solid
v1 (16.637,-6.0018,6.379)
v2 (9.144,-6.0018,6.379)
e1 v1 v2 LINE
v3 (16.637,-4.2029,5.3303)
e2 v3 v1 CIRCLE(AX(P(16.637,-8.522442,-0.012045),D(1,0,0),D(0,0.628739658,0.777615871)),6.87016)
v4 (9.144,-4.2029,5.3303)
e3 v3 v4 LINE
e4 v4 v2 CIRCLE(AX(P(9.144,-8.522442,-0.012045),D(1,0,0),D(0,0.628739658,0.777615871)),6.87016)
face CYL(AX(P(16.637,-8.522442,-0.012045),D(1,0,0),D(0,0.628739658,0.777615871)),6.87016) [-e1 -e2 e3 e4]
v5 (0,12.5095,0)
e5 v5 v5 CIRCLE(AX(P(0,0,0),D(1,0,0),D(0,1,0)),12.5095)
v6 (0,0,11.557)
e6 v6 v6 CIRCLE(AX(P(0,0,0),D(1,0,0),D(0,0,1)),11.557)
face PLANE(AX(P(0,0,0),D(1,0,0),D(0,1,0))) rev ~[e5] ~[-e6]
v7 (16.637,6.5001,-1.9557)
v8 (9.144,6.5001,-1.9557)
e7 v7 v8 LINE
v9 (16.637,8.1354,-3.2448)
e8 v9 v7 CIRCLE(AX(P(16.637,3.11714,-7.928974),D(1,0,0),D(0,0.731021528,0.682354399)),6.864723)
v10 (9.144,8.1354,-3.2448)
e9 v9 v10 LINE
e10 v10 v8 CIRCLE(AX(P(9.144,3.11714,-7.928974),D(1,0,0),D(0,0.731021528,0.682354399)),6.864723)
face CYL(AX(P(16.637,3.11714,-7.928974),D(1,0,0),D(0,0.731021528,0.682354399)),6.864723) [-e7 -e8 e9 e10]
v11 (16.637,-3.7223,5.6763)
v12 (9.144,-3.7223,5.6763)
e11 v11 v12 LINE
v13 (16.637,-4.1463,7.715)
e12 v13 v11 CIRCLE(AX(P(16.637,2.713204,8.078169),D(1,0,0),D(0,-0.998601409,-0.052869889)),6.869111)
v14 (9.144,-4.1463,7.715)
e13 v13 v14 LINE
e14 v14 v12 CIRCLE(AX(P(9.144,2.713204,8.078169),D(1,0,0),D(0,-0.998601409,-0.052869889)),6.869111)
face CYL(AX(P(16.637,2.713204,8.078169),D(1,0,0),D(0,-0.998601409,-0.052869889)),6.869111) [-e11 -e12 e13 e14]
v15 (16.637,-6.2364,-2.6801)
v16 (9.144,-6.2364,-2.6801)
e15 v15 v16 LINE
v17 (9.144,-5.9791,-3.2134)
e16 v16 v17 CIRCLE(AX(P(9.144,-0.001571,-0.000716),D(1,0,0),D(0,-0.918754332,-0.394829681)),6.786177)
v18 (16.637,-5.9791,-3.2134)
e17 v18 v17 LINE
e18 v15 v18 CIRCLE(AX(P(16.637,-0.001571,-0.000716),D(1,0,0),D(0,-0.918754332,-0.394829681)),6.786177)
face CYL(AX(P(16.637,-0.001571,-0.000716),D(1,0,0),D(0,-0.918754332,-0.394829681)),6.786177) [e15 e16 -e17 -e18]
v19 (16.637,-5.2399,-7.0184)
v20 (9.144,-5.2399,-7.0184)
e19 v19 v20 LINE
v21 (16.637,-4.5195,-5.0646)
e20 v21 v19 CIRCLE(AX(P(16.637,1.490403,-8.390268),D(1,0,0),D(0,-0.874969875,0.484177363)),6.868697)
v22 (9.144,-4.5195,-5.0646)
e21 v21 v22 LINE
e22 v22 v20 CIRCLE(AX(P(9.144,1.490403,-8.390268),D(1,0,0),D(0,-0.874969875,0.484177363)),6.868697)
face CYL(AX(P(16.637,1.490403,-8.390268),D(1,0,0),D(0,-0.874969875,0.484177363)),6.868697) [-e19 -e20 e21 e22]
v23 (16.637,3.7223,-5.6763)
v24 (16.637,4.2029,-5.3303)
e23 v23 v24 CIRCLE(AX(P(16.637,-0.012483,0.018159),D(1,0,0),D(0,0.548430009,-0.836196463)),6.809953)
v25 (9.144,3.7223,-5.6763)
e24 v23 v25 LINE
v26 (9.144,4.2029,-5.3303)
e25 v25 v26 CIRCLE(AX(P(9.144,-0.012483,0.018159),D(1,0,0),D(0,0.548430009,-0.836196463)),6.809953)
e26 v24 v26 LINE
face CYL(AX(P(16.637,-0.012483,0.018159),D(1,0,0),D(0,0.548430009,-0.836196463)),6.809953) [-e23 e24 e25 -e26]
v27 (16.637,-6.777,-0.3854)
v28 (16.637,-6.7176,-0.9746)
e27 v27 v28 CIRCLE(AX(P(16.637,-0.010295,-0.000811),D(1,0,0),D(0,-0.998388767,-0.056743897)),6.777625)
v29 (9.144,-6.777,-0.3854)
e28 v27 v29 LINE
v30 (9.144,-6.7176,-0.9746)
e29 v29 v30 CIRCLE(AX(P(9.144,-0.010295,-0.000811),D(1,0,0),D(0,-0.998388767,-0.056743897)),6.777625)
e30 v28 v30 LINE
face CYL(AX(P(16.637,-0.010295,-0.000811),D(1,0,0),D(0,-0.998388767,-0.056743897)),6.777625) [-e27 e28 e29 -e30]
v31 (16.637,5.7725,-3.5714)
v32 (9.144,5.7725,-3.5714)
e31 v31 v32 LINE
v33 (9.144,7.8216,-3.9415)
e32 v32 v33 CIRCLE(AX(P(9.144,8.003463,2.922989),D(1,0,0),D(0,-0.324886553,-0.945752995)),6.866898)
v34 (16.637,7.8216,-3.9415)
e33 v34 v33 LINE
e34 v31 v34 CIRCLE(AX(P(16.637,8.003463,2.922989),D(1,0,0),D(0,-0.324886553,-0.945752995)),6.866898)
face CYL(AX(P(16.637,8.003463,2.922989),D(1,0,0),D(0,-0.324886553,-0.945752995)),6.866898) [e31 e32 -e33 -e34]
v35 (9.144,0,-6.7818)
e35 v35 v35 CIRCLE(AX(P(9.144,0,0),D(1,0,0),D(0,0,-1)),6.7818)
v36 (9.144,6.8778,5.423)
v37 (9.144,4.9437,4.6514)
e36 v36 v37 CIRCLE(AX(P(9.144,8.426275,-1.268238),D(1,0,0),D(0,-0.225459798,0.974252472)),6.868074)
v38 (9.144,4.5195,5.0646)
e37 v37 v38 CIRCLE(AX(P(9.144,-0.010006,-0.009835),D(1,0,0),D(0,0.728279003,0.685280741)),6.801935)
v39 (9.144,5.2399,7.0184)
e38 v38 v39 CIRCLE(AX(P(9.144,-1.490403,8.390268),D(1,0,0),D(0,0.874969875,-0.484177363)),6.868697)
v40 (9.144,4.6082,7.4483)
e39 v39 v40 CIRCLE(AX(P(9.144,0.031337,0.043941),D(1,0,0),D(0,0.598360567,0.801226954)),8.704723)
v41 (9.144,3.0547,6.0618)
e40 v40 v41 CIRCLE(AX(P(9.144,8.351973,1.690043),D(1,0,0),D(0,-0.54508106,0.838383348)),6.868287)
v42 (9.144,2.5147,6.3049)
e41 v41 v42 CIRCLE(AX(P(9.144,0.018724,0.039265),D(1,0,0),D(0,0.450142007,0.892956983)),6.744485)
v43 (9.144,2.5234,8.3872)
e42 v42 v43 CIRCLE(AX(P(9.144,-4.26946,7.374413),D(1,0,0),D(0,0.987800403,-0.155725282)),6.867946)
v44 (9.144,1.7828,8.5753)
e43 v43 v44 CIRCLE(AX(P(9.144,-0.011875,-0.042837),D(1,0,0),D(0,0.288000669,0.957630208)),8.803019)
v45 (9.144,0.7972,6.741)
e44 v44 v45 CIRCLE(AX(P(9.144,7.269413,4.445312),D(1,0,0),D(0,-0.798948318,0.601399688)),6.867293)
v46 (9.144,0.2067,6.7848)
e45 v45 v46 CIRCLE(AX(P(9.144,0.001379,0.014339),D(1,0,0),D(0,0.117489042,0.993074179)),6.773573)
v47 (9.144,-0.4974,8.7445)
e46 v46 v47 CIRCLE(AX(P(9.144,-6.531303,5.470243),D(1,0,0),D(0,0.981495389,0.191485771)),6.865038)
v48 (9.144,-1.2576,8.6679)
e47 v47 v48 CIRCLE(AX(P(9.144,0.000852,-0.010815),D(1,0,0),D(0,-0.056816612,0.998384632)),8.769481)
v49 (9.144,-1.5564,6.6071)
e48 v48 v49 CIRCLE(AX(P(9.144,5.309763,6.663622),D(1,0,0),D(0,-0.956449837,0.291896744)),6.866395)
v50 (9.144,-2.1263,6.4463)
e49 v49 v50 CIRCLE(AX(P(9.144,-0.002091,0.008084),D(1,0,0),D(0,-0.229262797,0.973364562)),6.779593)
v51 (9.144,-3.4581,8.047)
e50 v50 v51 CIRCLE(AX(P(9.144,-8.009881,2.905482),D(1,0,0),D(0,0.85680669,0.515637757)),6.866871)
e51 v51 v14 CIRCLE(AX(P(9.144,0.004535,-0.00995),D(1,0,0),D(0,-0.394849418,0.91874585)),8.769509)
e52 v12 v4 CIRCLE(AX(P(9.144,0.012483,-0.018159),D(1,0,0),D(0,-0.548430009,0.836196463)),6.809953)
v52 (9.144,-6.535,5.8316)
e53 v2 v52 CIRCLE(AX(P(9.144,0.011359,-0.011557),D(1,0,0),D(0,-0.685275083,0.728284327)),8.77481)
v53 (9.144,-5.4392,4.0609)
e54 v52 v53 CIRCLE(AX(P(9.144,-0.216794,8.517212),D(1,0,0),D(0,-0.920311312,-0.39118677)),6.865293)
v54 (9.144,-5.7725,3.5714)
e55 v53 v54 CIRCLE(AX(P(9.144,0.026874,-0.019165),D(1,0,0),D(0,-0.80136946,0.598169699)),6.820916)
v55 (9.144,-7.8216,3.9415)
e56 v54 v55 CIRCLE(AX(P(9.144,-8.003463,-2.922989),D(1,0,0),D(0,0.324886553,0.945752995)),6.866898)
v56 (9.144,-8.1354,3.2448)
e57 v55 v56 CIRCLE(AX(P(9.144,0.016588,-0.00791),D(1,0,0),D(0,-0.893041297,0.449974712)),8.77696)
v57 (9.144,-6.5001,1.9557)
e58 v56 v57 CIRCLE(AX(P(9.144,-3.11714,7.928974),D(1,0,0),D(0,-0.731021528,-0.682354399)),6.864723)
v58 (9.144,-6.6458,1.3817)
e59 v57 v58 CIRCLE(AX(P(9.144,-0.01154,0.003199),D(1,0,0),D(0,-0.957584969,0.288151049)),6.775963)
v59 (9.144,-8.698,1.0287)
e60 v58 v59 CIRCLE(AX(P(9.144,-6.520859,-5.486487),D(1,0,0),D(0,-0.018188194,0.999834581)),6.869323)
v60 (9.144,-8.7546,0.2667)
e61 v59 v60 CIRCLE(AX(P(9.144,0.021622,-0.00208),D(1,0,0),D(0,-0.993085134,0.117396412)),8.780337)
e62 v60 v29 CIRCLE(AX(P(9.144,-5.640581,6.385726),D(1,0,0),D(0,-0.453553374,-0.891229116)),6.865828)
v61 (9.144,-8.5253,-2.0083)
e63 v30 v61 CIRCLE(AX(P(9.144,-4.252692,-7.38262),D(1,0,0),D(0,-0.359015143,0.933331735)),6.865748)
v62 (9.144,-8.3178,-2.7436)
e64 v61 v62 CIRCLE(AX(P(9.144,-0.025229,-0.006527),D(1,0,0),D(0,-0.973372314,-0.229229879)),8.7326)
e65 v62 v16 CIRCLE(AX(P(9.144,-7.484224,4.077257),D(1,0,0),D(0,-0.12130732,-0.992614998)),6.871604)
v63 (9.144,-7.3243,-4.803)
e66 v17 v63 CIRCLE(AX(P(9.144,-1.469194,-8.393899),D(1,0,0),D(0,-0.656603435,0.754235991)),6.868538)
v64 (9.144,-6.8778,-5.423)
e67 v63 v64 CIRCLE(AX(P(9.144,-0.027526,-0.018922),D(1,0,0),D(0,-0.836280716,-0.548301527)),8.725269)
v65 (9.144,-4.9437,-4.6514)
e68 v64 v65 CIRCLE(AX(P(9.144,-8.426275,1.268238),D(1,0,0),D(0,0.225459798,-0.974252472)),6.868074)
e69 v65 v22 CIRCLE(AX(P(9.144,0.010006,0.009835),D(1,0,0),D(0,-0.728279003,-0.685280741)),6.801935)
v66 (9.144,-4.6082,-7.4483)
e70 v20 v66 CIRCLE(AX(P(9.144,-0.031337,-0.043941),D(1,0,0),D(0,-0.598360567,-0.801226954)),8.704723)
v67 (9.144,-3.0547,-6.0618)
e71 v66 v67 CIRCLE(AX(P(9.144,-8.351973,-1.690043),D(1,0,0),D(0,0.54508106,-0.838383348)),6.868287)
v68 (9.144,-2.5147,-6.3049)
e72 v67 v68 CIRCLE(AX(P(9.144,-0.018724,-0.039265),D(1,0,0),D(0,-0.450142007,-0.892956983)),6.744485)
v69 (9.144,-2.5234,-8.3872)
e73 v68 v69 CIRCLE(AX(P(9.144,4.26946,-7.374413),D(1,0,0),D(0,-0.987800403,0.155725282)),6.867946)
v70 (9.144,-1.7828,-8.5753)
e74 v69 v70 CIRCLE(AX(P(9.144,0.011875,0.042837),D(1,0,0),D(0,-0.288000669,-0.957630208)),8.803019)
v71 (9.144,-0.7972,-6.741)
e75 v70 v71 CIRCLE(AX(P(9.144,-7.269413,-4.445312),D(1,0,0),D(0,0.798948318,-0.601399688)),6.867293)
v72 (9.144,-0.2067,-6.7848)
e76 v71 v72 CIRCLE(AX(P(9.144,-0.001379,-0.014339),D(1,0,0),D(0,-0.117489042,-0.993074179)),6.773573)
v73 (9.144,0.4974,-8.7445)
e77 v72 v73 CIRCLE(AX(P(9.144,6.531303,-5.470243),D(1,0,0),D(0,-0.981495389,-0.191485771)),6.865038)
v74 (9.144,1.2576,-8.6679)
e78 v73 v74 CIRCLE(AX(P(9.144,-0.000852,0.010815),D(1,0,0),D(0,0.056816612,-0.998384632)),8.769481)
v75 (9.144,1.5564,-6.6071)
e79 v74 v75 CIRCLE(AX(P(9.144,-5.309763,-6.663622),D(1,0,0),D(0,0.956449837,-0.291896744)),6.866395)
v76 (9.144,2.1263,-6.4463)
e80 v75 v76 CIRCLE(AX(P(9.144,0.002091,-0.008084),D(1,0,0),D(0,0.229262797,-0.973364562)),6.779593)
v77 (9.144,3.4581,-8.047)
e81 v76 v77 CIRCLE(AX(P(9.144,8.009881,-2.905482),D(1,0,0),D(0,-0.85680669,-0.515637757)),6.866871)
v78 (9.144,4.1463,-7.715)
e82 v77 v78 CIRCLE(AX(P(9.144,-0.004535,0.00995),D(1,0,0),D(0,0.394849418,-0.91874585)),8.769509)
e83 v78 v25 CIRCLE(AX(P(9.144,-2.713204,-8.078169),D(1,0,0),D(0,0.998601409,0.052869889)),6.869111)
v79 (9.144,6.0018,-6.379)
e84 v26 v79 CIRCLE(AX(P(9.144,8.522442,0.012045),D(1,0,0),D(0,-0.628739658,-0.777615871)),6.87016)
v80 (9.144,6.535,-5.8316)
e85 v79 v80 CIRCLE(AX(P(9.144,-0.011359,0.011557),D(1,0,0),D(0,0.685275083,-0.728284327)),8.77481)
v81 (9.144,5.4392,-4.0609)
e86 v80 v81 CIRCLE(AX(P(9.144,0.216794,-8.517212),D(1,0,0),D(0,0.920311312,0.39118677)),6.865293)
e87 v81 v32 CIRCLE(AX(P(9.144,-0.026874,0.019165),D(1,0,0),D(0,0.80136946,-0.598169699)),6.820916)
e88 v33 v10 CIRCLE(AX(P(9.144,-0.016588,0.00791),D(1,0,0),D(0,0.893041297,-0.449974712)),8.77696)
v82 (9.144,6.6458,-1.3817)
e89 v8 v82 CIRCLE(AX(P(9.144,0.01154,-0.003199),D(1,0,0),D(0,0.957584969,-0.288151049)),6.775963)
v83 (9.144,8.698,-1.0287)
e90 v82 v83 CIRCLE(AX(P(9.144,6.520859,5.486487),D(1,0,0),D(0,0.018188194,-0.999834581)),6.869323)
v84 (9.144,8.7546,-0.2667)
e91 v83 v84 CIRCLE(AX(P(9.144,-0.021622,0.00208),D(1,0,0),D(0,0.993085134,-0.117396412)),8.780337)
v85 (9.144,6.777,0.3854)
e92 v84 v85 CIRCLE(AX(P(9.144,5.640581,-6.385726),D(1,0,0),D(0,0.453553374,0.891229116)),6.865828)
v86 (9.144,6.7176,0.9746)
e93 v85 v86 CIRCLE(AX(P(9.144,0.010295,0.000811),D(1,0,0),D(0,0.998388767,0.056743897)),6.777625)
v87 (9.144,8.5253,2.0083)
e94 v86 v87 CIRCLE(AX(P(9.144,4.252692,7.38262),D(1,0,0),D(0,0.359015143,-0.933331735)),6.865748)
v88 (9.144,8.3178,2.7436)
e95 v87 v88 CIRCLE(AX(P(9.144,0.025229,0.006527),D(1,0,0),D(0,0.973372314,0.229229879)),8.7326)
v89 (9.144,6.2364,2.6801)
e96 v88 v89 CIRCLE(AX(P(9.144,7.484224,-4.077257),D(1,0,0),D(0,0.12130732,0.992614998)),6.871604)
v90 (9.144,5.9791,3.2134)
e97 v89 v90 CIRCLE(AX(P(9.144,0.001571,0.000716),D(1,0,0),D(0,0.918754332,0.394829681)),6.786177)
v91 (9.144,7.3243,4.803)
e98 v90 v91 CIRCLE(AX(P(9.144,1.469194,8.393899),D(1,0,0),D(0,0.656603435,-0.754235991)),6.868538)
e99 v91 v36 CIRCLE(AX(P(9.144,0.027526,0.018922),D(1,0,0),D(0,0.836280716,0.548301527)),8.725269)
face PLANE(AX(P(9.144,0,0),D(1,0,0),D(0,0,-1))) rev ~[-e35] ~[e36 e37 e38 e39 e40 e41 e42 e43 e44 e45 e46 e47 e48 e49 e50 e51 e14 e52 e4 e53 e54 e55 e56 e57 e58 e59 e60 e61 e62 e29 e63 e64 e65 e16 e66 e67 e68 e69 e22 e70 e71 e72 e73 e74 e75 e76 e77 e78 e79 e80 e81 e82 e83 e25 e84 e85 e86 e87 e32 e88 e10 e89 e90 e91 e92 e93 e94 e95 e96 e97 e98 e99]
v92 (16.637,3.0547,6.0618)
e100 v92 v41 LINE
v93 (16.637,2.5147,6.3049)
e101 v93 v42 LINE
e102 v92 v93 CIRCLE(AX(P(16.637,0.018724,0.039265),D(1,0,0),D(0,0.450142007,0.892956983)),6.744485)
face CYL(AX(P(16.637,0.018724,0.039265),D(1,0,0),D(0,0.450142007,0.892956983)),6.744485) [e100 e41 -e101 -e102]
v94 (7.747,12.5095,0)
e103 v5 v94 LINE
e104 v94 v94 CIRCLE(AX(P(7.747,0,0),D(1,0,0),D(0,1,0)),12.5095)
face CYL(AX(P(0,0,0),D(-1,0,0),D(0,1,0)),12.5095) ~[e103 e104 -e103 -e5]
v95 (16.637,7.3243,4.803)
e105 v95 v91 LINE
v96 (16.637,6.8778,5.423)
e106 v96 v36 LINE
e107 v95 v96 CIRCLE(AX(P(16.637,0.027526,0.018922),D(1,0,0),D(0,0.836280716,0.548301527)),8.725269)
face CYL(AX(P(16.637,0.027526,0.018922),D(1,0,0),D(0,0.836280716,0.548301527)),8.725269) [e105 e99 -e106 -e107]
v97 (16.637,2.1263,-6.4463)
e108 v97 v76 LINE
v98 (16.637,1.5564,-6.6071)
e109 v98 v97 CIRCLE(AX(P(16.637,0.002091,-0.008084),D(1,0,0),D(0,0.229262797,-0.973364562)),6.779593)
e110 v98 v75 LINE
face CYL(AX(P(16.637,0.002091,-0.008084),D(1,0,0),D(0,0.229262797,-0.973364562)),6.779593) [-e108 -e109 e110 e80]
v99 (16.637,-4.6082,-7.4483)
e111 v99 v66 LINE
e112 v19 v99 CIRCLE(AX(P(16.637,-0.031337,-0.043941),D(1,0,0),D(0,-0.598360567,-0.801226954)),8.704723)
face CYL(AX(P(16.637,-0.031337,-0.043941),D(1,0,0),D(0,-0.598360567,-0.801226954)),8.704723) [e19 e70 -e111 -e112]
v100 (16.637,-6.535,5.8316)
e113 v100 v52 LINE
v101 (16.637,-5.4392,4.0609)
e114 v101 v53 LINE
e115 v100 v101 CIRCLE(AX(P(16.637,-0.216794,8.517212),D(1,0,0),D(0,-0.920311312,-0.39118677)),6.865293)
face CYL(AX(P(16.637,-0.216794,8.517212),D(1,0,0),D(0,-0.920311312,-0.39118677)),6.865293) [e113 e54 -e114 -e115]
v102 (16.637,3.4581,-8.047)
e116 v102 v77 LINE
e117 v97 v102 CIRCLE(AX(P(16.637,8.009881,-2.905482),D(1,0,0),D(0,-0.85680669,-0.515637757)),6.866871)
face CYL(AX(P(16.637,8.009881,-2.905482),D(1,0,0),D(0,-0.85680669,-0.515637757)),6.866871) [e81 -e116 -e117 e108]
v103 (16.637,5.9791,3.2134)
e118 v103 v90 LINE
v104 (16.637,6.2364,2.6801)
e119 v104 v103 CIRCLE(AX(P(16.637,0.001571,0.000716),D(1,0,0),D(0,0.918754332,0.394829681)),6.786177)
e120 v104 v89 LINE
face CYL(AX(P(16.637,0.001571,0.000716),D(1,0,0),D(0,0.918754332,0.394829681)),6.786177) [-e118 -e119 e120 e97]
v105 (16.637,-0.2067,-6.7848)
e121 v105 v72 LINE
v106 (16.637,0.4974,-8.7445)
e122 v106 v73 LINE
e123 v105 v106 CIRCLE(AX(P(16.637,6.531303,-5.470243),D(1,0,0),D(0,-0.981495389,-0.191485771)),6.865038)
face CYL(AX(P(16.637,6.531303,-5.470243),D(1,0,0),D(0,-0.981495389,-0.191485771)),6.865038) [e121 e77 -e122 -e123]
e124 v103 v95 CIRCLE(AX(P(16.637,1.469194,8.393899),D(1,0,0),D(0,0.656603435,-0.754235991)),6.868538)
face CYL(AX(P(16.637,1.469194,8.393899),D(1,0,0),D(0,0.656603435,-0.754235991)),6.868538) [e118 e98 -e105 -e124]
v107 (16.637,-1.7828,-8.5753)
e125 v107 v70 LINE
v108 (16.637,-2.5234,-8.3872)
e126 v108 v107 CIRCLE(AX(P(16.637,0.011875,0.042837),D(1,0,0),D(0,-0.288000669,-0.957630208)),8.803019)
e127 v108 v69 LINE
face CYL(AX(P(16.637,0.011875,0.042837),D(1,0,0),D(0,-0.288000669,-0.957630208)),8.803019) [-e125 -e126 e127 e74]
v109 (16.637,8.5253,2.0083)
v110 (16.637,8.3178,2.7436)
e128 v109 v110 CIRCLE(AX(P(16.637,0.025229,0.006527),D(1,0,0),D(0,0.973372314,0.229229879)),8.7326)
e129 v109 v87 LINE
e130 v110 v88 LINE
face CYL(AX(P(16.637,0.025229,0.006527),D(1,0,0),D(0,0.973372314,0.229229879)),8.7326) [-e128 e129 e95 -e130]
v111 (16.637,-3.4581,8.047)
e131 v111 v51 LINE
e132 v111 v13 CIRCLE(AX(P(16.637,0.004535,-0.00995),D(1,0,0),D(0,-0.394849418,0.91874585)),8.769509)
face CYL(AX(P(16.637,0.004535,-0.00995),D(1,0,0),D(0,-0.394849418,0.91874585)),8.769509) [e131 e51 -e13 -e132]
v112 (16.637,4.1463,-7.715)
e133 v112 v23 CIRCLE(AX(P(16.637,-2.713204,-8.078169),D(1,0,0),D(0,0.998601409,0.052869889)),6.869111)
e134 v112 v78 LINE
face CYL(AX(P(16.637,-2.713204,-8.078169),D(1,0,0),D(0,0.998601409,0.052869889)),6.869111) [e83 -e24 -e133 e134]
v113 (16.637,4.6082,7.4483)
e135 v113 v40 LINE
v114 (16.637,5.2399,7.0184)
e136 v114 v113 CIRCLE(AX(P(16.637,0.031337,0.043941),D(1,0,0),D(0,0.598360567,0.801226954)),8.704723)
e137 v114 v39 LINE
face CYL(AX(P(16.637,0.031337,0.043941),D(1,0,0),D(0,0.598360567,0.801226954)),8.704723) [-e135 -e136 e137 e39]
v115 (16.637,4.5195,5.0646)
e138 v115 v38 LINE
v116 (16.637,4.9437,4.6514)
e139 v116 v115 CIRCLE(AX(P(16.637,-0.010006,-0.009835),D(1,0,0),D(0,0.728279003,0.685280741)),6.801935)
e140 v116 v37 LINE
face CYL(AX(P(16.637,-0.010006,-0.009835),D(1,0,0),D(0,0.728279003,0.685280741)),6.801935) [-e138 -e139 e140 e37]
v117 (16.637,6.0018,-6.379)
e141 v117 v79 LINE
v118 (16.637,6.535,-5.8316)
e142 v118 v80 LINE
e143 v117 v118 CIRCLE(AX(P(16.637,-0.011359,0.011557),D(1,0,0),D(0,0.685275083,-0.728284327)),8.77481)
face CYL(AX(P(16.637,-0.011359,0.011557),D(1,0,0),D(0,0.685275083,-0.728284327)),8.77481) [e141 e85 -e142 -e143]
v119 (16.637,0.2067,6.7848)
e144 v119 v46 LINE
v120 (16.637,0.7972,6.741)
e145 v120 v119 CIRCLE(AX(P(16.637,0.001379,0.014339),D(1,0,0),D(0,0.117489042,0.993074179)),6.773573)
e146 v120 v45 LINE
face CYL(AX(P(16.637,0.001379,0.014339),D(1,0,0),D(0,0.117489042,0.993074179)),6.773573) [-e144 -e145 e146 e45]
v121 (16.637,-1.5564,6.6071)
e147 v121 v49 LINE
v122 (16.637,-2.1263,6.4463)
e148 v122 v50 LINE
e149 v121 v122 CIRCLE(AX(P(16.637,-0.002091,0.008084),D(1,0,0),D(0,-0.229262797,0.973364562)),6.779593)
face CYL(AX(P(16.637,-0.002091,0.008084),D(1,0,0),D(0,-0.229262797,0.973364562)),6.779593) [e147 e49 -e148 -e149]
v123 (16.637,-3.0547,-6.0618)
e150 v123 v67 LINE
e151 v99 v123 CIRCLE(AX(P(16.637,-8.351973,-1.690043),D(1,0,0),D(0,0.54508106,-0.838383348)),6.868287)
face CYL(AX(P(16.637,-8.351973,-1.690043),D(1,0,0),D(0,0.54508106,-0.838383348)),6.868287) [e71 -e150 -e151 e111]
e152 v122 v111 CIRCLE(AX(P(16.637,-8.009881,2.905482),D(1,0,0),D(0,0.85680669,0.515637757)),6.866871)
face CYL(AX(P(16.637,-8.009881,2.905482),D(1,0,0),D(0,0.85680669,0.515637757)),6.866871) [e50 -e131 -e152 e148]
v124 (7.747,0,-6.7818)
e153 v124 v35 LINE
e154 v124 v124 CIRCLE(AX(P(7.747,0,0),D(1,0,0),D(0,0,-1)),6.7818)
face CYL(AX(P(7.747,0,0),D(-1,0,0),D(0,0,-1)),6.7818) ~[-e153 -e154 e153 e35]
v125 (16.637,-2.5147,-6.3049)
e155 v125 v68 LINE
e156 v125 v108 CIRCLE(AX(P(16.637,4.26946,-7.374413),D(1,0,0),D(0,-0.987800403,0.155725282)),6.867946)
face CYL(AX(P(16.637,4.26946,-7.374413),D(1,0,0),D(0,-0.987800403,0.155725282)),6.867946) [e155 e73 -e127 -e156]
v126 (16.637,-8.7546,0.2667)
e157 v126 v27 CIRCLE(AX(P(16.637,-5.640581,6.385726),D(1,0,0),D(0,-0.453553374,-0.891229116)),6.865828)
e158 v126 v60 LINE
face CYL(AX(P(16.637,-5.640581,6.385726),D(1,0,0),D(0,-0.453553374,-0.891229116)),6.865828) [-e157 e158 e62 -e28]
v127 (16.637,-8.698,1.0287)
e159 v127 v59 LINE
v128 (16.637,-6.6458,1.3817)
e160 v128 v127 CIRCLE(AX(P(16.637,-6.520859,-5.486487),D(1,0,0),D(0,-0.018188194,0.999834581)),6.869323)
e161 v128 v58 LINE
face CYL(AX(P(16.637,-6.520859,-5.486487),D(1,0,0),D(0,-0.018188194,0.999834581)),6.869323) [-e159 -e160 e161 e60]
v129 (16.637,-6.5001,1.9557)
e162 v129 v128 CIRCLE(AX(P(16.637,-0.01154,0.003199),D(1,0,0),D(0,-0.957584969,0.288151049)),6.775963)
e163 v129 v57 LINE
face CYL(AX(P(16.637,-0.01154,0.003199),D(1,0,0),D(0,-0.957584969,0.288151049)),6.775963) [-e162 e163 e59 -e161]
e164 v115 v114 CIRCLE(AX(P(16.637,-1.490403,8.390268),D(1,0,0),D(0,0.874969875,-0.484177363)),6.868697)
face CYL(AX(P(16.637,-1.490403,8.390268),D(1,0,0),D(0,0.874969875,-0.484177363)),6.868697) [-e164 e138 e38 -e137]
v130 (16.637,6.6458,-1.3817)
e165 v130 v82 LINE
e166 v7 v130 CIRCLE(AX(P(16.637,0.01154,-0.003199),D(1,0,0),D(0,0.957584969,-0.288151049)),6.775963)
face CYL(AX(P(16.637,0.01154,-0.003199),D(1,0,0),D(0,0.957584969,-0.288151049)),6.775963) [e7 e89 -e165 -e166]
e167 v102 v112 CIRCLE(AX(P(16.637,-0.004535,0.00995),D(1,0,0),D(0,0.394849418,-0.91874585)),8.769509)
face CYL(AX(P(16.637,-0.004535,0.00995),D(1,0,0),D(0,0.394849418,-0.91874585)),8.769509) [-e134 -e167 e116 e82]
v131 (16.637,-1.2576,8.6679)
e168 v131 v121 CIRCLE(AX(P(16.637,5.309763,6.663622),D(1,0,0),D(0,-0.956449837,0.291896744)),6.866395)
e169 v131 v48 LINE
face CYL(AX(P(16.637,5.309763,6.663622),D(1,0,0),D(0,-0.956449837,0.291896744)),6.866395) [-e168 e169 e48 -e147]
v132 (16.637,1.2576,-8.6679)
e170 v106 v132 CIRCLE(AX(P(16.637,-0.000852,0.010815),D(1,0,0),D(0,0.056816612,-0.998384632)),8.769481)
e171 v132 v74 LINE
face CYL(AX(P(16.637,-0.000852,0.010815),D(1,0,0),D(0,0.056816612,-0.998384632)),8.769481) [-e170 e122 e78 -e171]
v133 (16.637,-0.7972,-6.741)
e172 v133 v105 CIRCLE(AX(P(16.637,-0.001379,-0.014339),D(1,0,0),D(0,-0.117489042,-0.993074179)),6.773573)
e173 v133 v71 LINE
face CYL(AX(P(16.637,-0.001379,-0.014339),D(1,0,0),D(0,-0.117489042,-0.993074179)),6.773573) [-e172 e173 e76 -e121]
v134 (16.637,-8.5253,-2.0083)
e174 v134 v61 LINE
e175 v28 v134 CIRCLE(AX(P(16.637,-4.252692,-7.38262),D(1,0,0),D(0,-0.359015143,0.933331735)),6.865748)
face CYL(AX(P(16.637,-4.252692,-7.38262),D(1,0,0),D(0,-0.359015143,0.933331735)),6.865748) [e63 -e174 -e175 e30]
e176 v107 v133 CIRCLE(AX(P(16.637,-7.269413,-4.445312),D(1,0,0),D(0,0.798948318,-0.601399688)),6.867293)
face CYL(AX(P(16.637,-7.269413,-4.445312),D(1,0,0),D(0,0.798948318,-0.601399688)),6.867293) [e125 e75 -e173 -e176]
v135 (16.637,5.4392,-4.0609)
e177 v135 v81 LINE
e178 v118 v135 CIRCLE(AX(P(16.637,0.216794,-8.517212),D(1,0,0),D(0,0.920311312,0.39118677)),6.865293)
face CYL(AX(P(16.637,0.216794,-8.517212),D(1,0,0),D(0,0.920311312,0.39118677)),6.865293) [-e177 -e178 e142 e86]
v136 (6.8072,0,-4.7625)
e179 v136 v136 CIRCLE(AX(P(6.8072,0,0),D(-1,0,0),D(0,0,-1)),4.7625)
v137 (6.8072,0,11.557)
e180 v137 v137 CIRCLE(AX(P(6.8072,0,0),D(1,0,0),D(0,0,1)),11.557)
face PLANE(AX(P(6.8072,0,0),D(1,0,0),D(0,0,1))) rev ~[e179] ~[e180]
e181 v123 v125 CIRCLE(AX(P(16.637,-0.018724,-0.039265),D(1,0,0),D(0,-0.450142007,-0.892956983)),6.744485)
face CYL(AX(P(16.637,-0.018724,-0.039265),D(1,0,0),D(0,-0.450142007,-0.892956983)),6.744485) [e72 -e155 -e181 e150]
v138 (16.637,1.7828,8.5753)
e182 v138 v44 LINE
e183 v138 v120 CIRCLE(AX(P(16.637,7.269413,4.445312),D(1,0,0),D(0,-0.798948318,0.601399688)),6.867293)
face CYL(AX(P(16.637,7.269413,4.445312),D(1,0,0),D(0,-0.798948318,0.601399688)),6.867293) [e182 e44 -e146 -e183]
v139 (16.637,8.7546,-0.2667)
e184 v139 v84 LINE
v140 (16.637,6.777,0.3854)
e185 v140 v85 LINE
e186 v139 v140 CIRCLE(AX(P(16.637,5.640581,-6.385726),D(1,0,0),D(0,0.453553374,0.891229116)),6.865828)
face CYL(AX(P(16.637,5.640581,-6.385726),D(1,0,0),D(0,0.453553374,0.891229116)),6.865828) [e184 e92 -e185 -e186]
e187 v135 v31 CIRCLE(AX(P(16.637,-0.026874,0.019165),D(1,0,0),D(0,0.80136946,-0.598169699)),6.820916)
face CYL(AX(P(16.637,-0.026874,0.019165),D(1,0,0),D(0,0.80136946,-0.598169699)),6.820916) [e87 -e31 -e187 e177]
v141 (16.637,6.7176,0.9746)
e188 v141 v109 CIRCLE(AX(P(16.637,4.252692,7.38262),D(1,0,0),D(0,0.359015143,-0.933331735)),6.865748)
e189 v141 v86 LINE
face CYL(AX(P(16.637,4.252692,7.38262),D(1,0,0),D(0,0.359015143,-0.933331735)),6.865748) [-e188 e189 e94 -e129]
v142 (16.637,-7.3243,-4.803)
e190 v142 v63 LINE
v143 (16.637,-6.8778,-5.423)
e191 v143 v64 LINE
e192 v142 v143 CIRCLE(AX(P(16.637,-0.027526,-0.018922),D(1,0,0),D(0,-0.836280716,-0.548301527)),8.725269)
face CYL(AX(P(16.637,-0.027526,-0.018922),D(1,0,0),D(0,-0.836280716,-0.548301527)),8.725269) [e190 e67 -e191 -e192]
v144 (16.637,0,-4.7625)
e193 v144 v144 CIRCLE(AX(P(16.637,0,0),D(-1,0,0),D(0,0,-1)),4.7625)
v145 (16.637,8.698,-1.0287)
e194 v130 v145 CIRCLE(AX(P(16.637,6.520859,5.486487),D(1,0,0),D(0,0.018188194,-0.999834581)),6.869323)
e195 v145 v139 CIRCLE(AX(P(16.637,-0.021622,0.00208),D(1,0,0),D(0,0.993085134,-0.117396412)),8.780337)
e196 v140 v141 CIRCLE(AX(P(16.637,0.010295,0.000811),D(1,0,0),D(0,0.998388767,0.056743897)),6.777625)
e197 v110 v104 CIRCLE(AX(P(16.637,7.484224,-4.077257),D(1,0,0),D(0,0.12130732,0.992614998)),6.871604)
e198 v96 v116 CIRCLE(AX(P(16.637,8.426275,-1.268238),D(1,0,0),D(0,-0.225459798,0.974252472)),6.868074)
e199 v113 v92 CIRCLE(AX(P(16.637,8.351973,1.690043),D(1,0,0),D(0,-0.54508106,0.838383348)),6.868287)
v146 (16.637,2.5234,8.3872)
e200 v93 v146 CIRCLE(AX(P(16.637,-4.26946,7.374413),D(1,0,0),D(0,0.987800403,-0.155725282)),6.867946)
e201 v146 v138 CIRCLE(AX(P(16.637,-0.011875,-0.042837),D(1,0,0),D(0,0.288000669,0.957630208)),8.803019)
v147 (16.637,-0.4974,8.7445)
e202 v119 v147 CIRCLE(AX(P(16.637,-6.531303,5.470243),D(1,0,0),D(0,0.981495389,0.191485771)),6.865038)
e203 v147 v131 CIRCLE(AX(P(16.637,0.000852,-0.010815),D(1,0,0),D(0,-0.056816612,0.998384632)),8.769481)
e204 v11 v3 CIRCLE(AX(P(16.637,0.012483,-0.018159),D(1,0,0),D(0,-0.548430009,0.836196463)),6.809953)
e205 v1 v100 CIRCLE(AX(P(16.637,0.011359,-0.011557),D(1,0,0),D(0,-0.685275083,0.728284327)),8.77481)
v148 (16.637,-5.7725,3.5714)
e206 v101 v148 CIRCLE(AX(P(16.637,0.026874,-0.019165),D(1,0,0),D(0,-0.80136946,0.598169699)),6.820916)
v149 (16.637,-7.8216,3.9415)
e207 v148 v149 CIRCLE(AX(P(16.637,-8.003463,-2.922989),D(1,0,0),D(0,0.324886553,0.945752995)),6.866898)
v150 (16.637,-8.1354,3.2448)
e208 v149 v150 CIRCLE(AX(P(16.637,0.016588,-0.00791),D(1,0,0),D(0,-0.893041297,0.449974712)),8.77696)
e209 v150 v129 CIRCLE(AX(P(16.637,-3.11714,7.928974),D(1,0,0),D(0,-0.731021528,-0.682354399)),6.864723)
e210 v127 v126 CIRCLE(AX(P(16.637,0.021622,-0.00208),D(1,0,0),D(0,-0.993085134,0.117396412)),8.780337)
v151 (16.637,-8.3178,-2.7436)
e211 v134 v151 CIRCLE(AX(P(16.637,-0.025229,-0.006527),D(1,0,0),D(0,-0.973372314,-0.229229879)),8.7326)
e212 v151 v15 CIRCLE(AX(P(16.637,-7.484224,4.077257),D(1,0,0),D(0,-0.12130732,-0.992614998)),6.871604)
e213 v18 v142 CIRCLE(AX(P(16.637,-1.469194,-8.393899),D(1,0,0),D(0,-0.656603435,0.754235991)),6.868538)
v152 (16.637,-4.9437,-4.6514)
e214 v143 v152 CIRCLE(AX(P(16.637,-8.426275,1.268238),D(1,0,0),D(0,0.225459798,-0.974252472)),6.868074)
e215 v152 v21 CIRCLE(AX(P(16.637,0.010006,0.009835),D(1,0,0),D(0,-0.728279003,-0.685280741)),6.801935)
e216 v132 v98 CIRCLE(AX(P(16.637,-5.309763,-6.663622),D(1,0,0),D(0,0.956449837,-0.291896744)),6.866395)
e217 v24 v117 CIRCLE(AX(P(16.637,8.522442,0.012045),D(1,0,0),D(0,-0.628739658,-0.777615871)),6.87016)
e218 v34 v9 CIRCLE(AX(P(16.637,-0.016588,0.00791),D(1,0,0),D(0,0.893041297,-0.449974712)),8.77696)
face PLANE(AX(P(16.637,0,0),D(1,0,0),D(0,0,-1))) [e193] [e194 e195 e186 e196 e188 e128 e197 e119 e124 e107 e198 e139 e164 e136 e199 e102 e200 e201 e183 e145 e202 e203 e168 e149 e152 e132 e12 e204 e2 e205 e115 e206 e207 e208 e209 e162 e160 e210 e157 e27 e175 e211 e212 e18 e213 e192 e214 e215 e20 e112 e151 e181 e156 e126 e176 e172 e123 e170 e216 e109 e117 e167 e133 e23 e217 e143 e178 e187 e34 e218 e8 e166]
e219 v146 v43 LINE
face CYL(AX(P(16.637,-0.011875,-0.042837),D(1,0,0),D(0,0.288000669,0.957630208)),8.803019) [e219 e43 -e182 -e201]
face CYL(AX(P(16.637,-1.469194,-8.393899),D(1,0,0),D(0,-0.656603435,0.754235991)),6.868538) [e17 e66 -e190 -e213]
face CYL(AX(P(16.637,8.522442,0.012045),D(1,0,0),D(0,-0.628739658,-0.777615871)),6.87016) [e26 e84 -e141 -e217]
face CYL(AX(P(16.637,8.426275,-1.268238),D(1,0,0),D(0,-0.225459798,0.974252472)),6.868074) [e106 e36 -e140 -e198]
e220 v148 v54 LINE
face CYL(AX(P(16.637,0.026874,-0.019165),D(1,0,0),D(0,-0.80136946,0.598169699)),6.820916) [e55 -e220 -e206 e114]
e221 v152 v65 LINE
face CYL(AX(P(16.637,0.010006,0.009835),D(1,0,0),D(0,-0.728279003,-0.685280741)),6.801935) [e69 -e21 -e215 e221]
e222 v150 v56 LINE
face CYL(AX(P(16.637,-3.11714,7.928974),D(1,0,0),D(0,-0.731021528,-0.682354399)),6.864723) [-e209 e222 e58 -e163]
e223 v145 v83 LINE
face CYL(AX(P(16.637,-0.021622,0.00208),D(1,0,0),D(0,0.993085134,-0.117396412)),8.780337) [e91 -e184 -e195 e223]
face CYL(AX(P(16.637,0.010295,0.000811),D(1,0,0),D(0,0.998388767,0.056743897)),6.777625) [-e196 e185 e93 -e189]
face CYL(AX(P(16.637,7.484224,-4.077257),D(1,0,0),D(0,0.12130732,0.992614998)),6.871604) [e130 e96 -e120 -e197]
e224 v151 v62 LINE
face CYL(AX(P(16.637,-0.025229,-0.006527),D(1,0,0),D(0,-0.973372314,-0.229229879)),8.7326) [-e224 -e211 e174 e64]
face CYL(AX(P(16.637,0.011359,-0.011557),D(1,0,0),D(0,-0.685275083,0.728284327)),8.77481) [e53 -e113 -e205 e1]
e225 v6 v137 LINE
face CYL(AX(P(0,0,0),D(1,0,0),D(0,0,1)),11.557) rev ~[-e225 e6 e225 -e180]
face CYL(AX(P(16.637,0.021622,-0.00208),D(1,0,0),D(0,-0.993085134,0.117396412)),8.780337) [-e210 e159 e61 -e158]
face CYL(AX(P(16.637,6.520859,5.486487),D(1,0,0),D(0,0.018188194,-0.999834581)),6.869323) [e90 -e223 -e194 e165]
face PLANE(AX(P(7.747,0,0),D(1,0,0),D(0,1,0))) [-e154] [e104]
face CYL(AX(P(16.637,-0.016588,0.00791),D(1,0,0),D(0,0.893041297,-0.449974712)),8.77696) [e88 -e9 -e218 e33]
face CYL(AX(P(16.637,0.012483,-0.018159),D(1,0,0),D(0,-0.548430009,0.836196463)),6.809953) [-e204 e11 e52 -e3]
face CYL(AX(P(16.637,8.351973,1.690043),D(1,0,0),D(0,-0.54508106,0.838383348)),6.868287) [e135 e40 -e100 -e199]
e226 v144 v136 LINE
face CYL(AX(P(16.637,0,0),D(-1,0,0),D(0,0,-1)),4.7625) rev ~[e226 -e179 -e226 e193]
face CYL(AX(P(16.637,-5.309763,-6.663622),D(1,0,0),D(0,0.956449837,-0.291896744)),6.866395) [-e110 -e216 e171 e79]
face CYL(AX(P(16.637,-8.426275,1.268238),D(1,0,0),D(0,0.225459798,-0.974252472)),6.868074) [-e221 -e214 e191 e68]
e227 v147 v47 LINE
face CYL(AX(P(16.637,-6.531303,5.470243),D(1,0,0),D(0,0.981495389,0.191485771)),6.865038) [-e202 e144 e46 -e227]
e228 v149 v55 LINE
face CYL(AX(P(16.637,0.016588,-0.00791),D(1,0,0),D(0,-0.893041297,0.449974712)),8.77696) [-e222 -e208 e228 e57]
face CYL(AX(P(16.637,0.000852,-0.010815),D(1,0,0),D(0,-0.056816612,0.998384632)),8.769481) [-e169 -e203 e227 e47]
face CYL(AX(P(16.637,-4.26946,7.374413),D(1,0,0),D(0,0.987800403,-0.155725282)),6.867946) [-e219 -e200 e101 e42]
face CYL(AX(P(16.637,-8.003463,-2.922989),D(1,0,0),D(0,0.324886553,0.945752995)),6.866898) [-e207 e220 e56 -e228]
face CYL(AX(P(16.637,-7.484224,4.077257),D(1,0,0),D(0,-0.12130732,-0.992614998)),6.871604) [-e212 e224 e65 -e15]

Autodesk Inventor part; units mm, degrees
ref_plane "YZ Plane" through (0, 0, 0) normal (1, 0, 0) x (0, 1, 0)
ref_plane "XZ Plane" through (0, 0, 0) normal (0, 1, 0) x (-1, 0, 0)
ref_plane "XY Plane" through (0, 0, 0) normal (0, 0, 1) x (1, 0, 0)
sketch "Sketch1" plane through (0, 0, 0) normal (1, 0, 0) x (0, 1, 0)
  circle A0 centre (0, 0) radius 12.5095
  dimension "d0" = 25.019
extrude "Extrusion1" add sketch "Sketch1" along normal blind 7.747
sketch "Sketch3" plane through (7.747, 0, 0) normal (1, 0, 0) x (0, 0, -1)
  circle A0 centre (0, 0) radius 12.5095 projected
  circle A1 centre (0, 0) radius 8.763
  dimension "d3" = 17.526
extrude "Extrusion2" add sketch "Sketch3" along normal blind 8.89 contours A1
sketch "Sketch4" plane through (7.747, 0, 0) normal (1, 0, 0) x (0, 0, -1)
  circle A0 centre (0, 0) radius 8.763 projected
  circle A1 centre (0, 0) radius 6.7818
  dimension "d26" = 6.7818
extrude "Extrusion3" cut sketch "Sketch4" along normal blind 1.397
sketch "Sketch5" plane through (16.637, 0, 0) normal (1, 0, 0) x (0, 0, -1)
  circle A0 centre (0, 0) radius 8.763 projected
hole "Hole1" at (16.637, 0, 0) direction (-1, 0, 0) diameter 9.525 end through all
sketch "Sketch6" plane through (0, 0, 0) normal (-1, 0, 0) x (0, 0, 1)
  circle A0 centre (0, 0) radius 4.7625 projected
hole "Hole2" at (0, 0, 0) direction (1, 0, 0) diameter 23.114 depth 6.8072
sketch "Sketch7" plane through (16.637, 0, 0) normal (1, 0, 0) x (0, 0, -1)
  circle A0 centre (0, 0) radius 8.763 projected
  arc A1 (6.3049, -2.5147) -> (8.3872, -2.5234) centre (7.3744, 4.2693) ccw
  arc A2 (8.3872, -2.5234) -> (8.5753, -1.7828) centre (0, 0) ccw
  arc A3 (8.5753, -1.7828) -> (6.741, -0.7972) centre (4.445, -7.2699) ccw
  arc A4 (6.741, -0.7972) -> (6.7848, -0.2067) centre (0, 0) ccw
  arc A5 (6.7848, -0.2067) -> (8.7445, 0.4974) centre (5.4695, 6.534) ccw
  arc A6 (8.7445, 0.4974) -> (8.6679, 1.2576) centre (0, 0) ccw
  arc A7 (8.6679, 1.2576) -> (6.6071, 1.5564) centre (6.6633, -5.3112) ccw
  arc A8 (6.6071, 1.5564) -> (6.4463, 2.1263) centre (0, 0) ccw
  arc A9 (6.4463, 2.1263) -> (8.047, 3.4581) centre (2.9049, 8.0107) ccw
  arc A10 (8.047, 3.4581) -> (7.715, 4.1463) centre (0, 0) ccw
  arc A11 (7.715, 4.1463) -> (5.6763, 3.7223) centre (8.078, -2.7119) ccw
  arc A12 (5.6763, 3.7223) -> (5.3303, 4.2029) centre (0, 0) ccw
  arc A13 (5.3303, 4.2029) -> (6.379, 6.0018) centre (-0.0101, 8.5211) ccw
  arc A14 (6.379, 6.0018) -> (5.8316, 6.535) centre (0, 0) ccw
  arc A15 (5.8316, 6.535) -> (4.0609, 5.4392) centre (8.5184, 0.2145) ccw
  arc A16 (4.0609, 5.4392) -> (3.5714, 5.7725) centre (0, 0) ccw
  arc A17 (3.5714, 5.7725) -> (3.9415, 7.8216) centre (-2.9239, 8.0037) ccw
  arc A18 (3.9415, 7.8216) -> (3.2448, 8.1354) centre (0, 0) ccw
  arc A19 (3.2448, 8.1354) -> (1.9557, 6.5001) centre (7.9313, 3.115) ccw
  arc A20 (1.9557, 6.5001) -> (1.3817, 6.6458) centre (0, 0) ccw
  arc A21 (1.3817, 6.6458) -> (1.0287, 8.698) centre (-5.485, 6.521) ccw
  arc A22 (1.0287, 8.698) -> (0.2667, 8.7546) centre (0, 0) ccw
  arc A23 (0.2667, 8.7546) -> (-0.3854, 6.777) centre (6.3876, 5.6398) ccw
  arc A24 (-0.3854, 6.777) -> (-0.9746, 6.7176) centre (0, 0) ccw
  arc A25 (-0.9746, 6.7176) -> (-2.0083, 8.5253) centre (-7.3845, 4.2518) ccw
  arc A26 (-2.0083, 8.5253) -> (-2.7436, 8.3178) centre (0, 0) ccw
  arc A27 (-2.7436, 8.3178) -> (-2.6801, 6.2364) centre (4.0734, 7.4844) ccw
  arc A28 (-2.6801, 6.2364) -> (-3.2134, 5.9791) centre (0, 0) ccw
  arc A29 (-3.2134, 5.9791) -> (-4.803, 7.3243) centre (-8.3934, 1.4697) ccw
  arc A30 (-4.803, 7.3243) -> (-5.423, 6.8778) centre (0, 0) ccw
  arc A31 (-5.423, 6.8778) -> (-4.6514, 4.9437) centre (1.268, 8.4262) ccw
  arc A32 (-4.6514, 4.9437) -> (-5.0646, 4.5195) centre (0, 0) ccw
  arc A33 (-5.0646, 4.5195) -> (-7.0184, 5.2399) centre (-8.3899, -1.4896) ccw
  arc A34 (-7.0184, 5.2399) -> (-7.4483, 4.6082) centre (0, 0) ccw
  arc A35 (-7.4483, 4.6082) -> (-6.0618, 3.0547) centre (-1.6904, 8.3517) ccw
  arc A36 (-6.0618, 3.0547) -> (-6.3049, 2.5147) centre (0, 0) ccw
  arc A37 (-6.3049, 2.5147) -> (-8.3872, 2.5234) centre (-7.3744, -4.2693) ccw
  arc A38 (-8.3872, 2.5234) -> (-8.5753, 1.7828) centre (0, 0) ccw
  arc A39 (-8.5753, 1.7828) -> (-6.741, 0.7972) centre (-4.445, 7.2699) ccw
  arc A40 (-6.741, 0.7972) -> (-6.7848, 0.2067) centre (0, 0) ccw
  arc A41 (-6.7848, 0.2067) -> (-8.7445, -0.4974) centre (-5.4695, -6.534) ccw
  arc A42 (-8.7445, -0.4974) -> (-8.6679, -1.2576) centre (0, 0) ccw
  arc A43 (-8.6679, -1.2576) -> (-6.6071, -1.5564) centre (-6.6633, 5.3112) ccw
  arc A44 (-6.6071, -1.5564) -> (-6.4463, -2.1263) centre (0, 0) ccw
  arc A45 (-6.4463, -2.1263) -> (-8.047, -3.4581) centre (-2.9049, -8.0107) ccw
  arc A46 (-8.047, -3.4581) -> (-7.715, -4.1463) centre (0, 0) ccw
  arc A47 (-7.715, -4.1463) -> (-5.6763, -3.7223) centre (-8.078, 2.7119) ccw
  arc A48 (-5.6763, -3.7223) -> (-5.3303, -4.2029) centre (0, 0) ccw
  arc A49 (-5.3303, -4.2029) -> (-6.379, -6.0018) centre (0.0101, -8.5211) ccw
  arc A50 (-6.379, -6.0018) -> (-5.8316, -6.535) centre (0, 0) ccw
  arc A51 (-5.8316, -6.535) -> (-4.0609, -5.4392) centre (-8.5184, -0.2145) ccw
  arc A52 (-4.0609, -5.4392) -> (-3.5714, -5.7725) centre (0, 0) ccw
  arc A53 (-3.5714, -5.7725) -> (-3.9415, -7.8216) centre (2.9239, -8.0037) ccw
  arc A54 (-3.9415, -7.8216) -> (-3.2448, -8.1354) centre (0, 0) ccw
  arc A55 (-3.2448, -8.1354) -> (-1.9557, -6.5001) centre (-7.9313, -3.115) ccw
  arc A56 (-1.9557, -6.5001) -> (-1.3817, -6.6458) centre (0, 0) ccw
  arc A57 (-1.3817, -6.6458) -> (-1.0287, -8.698) centre (5.485, -6.521) ccw
  arc A58 (-1.0287, -8.698) -> (-0.2667, -8.7546) centre (0, 0) ccw
  arc A59 (-0.2667, -8.7546) -> (0.3854, -6.777) centre (-6.3876, -5.6398) ccw
  arc A60 (0.3854, -6.777) -> (0.9746, -6.7176) centre (0, 0) ccw
  arc A61 (0.9746, -6.7176) -> (2.0083, -8.5253) centre (7.3845, -4.2518) ccw
  arc A62 (2.0083, -8.5253) -> (2.7436, -8.3178) centre (0, 0) ccw
  arc A63 (2.7436, -8.3178) -> (2.6801, -6.2364) centre (-4.0734, -7.4844) ccw
  arc A64 (2.6801, -6.2364) -> (3.2134, -5.9791) centre (0, 0) ccw
  arc A65 (3.2134, -5.9791) -> (4.803, -7.3243) centre (8.3934, -1.4697) ccw
  arc A66 (4.803, -7.3243) -> (5.423, -6.8778) centre (0, 0) ccw
  arc A67 (5.423, -6.8778) -> (4.6514, -4.9437) centre (-1.268, -8.4262) ccw
  arc A68 (4.6514, -4.9437) -> (5.0646, -4.5195) centre (0, 0) ccw
  arc A69 (5.0646, -4.5195) -> (7.0184, -5.2399) centre (8.3899, 1.4896) ccw
  arc A70 (7.0184, -5.2399) -> (7.4483, -4.6082) centre (0, 0) ccw
  arc A71 (7.4483, -4.6082) -> (6.0618, -3.0547) centre (1.6904, -8.3517) ccw
  arc A72 (6.0618, -3.0547) -> (6.3049, -2.5147) centre (0, 0) ccw
extrude "Extrusion4" cut sketch "Sketch7" against normal up to surface (7.493 mm away)
properties part number "Clutch Gear" material "Stainless Steel, 440C"
